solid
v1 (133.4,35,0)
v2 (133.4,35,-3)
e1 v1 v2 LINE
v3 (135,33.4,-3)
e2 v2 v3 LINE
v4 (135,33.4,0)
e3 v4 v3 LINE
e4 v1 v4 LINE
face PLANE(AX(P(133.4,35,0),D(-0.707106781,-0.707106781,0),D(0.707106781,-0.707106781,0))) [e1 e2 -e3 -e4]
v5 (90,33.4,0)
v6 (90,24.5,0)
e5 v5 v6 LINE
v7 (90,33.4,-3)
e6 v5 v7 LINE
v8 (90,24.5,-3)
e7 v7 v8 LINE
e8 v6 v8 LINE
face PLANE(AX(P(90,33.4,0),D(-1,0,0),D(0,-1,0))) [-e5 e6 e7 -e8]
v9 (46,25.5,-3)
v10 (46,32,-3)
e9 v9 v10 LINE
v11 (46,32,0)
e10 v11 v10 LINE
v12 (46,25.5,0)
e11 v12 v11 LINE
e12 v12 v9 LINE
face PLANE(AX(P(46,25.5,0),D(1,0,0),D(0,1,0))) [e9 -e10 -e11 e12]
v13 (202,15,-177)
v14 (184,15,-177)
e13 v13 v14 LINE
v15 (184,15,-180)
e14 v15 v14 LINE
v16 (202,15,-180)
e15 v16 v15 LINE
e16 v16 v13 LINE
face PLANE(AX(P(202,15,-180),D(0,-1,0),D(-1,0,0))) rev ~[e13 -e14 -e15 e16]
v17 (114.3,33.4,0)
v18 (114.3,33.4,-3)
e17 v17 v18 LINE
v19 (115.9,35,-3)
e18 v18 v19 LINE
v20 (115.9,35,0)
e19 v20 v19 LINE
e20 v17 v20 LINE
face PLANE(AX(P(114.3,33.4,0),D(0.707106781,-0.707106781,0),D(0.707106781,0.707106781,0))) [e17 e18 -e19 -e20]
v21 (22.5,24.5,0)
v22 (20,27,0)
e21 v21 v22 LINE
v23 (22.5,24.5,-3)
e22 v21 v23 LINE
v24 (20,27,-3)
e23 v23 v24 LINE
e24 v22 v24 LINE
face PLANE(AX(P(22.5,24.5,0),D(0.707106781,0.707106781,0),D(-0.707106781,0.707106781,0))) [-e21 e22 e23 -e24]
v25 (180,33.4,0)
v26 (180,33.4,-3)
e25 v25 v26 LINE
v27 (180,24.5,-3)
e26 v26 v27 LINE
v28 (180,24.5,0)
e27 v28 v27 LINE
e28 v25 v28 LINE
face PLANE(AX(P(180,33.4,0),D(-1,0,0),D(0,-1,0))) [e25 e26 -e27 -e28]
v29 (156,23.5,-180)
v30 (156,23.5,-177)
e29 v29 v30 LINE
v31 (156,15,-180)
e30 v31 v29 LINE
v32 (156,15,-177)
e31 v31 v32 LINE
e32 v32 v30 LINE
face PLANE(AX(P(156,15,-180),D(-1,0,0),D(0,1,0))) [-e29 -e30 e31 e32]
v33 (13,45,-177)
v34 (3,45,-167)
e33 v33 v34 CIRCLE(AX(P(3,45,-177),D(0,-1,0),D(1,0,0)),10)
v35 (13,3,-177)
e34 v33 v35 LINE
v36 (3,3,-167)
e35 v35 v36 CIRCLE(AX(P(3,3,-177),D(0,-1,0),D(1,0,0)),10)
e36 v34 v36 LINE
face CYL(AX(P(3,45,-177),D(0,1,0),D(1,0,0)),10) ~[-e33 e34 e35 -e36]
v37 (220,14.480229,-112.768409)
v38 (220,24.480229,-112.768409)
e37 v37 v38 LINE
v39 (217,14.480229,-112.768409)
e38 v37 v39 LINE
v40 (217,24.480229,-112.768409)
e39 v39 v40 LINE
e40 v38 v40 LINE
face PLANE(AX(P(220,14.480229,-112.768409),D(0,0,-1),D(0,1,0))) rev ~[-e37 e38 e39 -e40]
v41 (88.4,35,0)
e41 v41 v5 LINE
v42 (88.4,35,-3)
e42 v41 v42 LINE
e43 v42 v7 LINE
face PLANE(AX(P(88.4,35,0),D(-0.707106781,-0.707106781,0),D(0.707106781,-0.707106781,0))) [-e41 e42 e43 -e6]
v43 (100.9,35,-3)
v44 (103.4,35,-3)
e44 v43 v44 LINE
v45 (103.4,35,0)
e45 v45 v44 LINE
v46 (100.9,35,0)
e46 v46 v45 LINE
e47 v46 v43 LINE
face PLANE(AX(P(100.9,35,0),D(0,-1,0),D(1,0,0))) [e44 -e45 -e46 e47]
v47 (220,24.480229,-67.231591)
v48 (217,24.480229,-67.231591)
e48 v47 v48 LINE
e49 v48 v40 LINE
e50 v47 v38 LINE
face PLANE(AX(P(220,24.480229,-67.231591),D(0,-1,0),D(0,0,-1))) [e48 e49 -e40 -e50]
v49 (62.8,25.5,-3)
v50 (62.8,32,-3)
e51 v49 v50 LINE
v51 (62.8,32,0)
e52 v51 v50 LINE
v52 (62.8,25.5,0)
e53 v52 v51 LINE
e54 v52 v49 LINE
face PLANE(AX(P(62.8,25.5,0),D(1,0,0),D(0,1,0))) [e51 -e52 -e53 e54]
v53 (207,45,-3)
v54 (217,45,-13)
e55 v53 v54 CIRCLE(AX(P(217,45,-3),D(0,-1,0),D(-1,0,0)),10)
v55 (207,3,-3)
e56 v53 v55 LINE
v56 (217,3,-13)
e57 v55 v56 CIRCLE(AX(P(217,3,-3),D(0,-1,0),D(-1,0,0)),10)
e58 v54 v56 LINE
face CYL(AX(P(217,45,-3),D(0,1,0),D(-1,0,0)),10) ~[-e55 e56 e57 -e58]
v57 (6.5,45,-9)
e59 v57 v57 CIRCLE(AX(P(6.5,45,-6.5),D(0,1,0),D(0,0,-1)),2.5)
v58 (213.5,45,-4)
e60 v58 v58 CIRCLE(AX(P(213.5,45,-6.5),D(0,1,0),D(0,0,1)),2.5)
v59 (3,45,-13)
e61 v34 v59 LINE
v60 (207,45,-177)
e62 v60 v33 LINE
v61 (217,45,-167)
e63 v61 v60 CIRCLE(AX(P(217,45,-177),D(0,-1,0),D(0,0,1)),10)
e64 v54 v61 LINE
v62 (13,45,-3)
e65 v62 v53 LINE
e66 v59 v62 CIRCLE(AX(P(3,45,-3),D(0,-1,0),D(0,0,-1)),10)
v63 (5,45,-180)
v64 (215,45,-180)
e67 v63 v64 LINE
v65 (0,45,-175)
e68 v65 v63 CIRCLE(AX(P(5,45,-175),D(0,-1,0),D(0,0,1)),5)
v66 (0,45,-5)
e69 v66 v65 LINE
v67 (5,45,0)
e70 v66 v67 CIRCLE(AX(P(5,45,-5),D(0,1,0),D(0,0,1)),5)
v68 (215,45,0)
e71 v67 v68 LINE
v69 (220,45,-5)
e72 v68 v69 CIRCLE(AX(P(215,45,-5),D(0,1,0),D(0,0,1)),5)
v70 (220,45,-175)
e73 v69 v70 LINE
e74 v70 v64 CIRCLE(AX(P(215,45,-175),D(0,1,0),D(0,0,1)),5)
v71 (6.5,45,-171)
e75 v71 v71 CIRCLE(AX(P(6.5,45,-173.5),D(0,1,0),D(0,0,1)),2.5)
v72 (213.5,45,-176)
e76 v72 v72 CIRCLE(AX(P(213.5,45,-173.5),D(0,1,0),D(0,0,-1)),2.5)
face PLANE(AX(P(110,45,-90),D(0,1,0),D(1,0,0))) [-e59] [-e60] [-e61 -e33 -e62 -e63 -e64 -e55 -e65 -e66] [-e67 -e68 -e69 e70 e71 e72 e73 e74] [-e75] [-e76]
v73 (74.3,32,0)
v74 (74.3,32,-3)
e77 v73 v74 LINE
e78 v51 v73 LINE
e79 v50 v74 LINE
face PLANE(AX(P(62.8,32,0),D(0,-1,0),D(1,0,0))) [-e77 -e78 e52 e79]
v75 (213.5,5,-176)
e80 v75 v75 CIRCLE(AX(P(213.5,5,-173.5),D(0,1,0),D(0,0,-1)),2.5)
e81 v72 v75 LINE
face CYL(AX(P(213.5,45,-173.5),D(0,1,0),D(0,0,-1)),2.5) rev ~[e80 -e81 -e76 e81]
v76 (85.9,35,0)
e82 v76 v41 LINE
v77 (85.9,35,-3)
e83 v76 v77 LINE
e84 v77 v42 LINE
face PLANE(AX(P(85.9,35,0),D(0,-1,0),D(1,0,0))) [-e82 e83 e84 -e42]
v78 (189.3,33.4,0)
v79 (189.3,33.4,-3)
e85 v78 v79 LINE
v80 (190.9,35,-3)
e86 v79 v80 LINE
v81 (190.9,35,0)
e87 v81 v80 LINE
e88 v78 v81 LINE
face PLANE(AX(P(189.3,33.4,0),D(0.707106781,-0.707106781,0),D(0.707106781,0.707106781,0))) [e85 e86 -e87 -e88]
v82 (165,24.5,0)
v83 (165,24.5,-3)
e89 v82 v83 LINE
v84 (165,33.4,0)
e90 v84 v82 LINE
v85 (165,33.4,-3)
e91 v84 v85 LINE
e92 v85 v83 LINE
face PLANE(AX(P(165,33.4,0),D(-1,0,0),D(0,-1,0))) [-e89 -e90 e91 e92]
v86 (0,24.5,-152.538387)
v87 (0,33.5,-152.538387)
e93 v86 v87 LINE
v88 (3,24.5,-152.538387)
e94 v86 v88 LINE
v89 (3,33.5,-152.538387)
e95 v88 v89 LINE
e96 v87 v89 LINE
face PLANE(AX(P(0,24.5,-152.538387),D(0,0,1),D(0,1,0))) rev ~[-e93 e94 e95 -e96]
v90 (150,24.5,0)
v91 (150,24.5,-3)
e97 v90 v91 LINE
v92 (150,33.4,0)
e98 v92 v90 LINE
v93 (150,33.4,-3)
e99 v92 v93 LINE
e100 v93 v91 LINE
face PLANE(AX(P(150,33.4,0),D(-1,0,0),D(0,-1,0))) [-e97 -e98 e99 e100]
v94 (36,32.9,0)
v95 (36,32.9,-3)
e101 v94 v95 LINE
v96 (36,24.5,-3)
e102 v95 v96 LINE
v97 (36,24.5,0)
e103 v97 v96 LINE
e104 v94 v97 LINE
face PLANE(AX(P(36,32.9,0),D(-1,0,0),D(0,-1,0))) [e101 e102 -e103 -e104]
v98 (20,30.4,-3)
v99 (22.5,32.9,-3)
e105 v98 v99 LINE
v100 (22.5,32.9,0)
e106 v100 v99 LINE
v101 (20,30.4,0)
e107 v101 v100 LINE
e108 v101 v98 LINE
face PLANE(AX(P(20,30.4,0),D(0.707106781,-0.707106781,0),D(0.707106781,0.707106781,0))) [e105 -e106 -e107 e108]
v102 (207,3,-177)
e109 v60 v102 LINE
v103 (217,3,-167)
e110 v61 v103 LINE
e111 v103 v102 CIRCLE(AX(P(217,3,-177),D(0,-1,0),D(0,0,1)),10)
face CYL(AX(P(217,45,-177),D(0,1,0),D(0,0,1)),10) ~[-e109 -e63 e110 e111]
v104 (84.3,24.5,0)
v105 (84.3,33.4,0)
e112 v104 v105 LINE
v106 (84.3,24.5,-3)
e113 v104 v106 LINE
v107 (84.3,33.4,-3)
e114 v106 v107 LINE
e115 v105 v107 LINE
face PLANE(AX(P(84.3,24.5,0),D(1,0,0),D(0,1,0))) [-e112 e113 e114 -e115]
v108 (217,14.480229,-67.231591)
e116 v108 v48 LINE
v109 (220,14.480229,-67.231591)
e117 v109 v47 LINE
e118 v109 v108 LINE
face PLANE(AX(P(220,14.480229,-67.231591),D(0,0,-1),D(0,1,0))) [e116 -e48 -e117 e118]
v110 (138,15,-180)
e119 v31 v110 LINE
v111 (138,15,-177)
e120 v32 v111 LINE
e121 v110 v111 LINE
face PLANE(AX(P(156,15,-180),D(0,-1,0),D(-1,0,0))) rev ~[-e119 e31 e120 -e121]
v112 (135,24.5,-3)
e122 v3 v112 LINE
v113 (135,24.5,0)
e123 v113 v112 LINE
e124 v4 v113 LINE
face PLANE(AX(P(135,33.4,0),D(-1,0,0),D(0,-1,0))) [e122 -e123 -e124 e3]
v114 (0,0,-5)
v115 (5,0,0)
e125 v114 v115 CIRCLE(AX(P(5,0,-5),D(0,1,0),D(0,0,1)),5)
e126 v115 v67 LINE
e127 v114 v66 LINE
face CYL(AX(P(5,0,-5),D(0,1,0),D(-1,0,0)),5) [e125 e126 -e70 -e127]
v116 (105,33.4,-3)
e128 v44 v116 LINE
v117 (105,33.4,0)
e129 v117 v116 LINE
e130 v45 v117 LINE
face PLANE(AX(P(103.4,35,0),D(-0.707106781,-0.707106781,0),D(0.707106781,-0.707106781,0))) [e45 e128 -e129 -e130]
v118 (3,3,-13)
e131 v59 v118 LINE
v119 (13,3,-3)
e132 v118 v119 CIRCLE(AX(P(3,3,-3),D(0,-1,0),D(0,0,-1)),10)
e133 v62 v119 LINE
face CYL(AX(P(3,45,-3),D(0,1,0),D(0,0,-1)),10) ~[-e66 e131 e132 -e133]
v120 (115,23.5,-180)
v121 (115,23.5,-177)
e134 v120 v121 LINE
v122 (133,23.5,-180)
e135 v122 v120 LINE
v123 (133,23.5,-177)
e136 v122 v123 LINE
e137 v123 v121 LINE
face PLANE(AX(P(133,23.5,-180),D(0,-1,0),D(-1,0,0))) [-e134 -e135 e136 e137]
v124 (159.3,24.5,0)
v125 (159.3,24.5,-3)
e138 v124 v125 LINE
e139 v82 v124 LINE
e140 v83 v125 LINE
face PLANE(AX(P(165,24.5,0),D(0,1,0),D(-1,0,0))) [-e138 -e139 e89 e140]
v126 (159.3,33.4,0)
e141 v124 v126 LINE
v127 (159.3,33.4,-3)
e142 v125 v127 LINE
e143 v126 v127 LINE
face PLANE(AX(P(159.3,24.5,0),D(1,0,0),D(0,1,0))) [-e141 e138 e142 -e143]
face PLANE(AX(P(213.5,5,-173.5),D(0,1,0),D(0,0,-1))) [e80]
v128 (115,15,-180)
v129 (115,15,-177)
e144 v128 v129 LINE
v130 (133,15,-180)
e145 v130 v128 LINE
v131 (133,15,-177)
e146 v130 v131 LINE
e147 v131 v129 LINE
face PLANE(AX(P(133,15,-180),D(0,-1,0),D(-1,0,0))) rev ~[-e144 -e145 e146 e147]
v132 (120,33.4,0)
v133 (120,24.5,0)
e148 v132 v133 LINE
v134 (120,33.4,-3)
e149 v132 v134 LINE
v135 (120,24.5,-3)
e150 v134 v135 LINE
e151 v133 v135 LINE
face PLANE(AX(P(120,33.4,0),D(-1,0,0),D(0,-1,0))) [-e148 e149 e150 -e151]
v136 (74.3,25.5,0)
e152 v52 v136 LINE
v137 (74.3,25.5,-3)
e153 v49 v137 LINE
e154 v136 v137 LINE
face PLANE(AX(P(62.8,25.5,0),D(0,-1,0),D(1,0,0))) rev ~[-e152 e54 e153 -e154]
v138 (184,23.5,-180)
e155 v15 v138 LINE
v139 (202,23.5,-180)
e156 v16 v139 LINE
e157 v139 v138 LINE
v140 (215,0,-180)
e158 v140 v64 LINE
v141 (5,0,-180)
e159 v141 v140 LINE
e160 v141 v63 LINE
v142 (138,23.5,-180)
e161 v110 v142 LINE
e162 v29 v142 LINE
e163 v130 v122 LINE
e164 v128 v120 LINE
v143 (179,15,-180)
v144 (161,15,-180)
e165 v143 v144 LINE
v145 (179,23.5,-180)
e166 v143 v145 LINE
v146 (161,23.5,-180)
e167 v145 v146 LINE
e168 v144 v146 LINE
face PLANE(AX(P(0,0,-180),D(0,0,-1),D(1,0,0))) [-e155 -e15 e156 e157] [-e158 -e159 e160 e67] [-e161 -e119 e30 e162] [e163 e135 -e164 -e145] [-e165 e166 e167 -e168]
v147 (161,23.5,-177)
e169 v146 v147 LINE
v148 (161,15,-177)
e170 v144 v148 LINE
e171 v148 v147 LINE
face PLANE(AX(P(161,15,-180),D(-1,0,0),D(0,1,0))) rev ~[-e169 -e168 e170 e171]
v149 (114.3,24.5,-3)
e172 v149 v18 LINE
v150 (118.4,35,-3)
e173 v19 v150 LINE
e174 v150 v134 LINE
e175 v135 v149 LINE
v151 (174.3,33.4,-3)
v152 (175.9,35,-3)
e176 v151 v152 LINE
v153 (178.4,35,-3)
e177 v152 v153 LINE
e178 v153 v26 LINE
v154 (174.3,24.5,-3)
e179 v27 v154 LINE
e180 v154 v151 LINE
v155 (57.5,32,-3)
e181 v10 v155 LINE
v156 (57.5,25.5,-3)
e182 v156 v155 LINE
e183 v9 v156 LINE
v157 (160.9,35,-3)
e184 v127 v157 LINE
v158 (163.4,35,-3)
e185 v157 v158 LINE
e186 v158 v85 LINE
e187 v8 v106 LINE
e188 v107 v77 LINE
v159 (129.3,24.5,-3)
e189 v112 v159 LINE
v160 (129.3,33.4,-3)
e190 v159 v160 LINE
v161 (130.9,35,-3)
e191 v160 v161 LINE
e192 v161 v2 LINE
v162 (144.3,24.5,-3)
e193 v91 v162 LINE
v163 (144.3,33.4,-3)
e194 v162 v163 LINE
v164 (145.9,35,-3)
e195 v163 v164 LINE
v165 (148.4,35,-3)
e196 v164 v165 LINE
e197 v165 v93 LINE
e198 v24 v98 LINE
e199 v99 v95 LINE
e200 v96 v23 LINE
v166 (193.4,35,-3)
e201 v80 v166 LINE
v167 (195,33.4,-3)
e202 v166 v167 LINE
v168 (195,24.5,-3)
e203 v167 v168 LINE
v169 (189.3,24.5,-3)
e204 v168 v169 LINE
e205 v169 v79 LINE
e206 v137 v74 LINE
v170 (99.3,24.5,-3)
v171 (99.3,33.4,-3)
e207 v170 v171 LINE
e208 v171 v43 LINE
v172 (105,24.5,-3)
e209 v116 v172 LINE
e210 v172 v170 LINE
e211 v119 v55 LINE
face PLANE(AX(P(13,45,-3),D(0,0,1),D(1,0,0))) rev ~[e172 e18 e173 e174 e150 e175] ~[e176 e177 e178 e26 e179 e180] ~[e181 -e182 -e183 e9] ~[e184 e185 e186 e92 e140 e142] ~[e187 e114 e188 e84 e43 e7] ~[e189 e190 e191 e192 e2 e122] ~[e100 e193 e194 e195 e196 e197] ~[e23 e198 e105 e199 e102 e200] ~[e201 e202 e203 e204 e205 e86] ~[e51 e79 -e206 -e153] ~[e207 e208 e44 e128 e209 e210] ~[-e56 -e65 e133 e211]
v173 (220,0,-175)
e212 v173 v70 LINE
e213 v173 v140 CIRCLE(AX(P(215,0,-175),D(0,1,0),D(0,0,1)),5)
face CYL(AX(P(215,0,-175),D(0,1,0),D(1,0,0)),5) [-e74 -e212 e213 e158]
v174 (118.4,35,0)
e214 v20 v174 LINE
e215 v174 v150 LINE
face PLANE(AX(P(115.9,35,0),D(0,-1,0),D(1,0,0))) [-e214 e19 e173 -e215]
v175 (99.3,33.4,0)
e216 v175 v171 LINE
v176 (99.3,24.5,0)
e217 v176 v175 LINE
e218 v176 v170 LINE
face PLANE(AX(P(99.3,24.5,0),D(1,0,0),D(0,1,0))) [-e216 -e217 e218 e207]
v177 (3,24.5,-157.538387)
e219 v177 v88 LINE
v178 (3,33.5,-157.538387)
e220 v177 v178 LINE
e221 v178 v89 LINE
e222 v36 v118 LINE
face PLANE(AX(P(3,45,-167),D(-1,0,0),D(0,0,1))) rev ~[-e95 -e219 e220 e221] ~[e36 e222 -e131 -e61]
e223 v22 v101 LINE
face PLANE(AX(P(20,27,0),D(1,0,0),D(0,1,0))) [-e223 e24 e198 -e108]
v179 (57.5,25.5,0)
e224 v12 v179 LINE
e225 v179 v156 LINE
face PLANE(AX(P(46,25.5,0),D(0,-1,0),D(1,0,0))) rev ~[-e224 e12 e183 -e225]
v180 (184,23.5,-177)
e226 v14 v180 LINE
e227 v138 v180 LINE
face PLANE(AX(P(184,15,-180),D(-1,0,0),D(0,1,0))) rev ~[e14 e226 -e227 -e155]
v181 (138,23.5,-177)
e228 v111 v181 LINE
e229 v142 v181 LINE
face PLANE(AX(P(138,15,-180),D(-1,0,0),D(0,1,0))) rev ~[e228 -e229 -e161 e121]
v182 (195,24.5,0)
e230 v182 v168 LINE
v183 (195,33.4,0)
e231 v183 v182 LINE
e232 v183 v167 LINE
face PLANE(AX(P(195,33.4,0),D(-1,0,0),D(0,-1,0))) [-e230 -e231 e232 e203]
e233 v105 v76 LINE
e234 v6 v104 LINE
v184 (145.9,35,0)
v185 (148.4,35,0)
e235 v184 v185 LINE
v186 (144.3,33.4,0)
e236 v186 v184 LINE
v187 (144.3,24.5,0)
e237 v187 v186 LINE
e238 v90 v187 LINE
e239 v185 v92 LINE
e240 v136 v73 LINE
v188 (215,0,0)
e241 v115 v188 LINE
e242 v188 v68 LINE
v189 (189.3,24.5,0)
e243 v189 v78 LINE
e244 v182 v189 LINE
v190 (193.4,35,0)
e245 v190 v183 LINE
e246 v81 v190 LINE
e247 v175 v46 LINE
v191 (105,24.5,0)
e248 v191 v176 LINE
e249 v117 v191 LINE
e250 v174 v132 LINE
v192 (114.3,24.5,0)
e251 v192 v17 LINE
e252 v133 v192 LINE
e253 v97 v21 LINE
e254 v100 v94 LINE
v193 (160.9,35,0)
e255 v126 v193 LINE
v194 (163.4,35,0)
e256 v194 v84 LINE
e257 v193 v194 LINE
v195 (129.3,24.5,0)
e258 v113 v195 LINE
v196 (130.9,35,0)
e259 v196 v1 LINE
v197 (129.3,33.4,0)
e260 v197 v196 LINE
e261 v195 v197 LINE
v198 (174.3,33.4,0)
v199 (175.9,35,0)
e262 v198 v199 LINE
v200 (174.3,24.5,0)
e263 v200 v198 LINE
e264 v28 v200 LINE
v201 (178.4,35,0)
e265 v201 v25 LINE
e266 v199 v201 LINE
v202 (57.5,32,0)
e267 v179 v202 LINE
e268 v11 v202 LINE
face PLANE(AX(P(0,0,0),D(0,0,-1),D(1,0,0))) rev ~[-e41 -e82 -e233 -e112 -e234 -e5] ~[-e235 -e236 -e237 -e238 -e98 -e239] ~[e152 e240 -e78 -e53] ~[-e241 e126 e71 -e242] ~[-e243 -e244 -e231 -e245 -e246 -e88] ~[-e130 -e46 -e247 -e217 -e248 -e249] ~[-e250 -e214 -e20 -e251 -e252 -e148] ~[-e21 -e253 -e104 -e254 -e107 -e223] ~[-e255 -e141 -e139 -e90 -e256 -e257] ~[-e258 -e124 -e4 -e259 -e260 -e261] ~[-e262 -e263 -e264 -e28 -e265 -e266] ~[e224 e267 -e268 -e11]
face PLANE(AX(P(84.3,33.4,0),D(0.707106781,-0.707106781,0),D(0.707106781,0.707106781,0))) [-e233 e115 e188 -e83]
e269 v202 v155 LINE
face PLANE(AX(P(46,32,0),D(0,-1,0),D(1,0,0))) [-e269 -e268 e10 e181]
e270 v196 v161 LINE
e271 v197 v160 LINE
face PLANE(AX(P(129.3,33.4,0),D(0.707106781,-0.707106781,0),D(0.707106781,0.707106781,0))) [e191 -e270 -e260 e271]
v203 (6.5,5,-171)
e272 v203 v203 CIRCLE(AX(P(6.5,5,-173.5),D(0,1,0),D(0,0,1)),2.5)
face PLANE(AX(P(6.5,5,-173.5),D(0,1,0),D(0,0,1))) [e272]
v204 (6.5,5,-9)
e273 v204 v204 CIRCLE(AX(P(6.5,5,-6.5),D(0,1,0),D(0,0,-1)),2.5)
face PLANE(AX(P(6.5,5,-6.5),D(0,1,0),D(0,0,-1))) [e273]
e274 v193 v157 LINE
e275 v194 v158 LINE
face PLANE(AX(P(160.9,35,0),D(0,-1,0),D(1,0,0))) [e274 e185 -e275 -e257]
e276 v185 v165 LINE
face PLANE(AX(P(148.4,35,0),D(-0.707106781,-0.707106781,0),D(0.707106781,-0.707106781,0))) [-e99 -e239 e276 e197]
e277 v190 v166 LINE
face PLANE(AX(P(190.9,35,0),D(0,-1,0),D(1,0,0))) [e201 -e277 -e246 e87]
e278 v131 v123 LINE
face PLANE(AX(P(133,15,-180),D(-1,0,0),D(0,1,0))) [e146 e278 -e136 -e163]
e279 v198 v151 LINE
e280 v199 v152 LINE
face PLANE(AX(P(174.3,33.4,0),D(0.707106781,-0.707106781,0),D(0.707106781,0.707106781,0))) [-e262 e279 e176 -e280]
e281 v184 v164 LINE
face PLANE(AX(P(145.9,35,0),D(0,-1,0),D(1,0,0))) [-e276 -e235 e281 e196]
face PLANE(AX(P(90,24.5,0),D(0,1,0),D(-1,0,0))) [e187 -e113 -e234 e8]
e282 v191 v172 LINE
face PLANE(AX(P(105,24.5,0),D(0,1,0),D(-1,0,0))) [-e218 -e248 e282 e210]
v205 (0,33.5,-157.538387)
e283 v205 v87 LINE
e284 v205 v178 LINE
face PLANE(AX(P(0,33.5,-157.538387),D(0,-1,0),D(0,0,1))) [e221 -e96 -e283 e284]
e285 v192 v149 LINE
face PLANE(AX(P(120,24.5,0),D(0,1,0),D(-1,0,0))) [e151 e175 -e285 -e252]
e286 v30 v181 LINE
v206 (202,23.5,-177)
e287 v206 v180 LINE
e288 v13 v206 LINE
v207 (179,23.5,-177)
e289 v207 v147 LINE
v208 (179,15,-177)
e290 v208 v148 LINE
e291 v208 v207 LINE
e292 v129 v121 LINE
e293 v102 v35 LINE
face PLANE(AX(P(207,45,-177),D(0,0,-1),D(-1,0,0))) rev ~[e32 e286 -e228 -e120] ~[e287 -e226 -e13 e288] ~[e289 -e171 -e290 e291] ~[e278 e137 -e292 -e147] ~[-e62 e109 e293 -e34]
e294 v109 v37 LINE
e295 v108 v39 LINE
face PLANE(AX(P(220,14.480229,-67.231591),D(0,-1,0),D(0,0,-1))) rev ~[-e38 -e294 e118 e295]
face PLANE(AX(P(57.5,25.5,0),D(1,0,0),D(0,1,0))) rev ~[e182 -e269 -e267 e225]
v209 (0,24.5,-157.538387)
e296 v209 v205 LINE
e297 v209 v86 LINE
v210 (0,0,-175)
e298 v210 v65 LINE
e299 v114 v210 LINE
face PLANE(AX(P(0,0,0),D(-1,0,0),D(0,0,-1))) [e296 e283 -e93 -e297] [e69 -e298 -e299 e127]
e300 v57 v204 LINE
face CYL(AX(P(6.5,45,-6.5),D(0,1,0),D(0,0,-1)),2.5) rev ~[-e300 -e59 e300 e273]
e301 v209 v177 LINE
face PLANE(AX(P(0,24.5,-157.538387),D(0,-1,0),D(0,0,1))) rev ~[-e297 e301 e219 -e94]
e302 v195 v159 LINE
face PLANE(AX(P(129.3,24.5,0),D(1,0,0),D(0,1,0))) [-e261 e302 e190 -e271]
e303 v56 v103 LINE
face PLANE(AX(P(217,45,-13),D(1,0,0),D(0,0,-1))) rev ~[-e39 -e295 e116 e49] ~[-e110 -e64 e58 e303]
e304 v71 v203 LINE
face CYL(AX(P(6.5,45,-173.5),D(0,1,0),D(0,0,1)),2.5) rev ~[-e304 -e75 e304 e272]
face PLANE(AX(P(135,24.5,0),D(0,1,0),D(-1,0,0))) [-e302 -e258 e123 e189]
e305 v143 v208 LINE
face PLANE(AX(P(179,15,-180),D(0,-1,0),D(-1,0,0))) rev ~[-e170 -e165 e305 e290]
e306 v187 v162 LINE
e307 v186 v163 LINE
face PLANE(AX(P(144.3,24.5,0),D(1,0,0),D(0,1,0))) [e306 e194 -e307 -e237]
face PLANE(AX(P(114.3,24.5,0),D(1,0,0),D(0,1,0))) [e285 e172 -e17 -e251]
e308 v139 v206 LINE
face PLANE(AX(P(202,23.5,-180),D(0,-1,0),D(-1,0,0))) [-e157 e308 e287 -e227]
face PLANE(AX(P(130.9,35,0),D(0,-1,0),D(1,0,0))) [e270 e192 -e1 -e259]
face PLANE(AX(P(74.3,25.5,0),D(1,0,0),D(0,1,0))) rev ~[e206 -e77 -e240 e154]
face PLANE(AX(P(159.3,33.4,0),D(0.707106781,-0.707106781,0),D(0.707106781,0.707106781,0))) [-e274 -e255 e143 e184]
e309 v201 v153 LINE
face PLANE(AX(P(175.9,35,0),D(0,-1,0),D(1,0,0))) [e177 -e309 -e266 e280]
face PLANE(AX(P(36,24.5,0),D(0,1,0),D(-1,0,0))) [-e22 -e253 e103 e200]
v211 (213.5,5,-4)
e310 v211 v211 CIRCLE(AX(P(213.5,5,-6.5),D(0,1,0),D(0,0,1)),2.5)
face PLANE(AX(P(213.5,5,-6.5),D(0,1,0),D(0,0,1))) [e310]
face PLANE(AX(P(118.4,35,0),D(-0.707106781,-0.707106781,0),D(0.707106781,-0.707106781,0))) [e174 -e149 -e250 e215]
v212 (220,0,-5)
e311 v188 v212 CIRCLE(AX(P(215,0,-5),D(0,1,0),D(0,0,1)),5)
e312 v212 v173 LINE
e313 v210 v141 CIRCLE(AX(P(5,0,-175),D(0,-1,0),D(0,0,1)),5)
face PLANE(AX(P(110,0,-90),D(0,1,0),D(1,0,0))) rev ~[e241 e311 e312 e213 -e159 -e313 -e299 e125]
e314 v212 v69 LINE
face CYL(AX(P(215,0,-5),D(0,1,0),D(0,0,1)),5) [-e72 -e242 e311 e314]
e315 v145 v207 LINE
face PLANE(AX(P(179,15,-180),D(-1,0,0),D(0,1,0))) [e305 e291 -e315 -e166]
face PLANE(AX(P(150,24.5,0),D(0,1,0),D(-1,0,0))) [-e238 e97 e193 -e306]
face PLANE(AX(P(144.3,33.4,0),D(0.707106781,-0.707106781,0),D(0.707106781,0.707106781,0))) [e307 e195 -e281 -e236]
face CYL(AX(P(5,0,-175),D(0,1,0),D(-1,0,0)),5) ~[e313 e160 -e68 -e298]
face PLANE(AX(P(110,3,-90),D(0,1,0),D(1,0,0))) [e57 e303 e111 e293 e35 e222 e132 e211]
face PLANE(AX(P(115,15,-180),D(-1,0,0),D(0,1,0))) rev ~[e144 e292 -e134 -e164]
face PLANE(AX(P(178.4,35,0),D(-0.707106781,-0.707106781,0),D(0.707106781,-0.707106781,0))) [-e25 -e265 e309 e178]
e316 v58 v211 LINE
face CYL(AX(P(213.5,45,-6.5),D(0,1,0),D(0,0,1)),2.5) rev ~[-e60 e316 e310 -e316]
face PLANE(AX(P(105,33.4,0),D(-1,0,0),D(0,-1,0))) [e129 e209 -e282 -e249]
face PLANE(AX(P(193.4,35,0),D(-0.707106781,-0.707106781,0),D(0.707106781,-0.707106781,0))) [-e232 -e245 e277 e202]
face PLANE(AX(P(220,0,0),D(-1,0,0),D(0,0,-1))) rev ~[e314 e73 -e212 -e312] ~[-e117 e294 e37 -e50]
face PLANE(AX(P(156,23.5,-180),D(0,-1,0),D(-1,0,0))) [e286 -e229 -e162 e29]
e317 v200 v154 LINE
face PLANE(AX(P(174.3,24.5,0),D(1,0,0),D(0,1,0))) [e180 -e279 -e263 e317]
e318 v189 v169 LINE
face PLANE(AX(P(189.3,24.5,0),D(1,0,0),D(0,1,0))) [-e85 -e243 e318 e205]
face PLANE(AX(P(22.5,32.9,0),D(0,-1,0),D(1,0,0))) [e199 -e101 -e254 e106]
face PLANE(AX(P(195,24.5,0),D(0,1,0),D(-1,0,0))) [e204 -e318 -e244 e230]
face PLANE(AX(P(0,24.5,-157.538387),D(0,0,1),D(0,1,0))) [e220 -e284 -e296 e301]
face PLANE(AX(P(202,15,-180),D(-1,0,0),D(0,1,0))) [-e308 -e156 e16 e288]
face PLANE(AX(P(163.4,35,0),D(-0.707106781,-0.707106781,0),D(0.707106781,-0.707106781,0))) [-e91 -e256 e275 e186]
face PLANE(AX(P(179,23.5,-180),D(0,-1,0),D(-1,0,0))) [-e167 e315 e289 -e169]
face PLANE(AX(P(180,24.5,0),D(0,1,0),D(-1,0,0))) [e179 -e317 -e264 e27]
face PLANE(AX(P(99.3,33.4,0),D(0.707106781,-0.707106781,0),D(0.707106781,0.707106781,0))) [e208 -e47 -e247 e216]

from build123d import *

# Parameters (mm, degrees)
SKETCH1_W           = 220
SKETCH1_H           = 180
BOSS_EXTRUDE1_DEPTH = 45
FILLET1_R           = 5
CUT_EXTRUDE7_DEPTH  = 42
CUT_EXTRUDE2_DEPTH  = 5
CUT_EXTRUDE3_DEPTH  = 5
SKETCH4_W           = 11.5
SKETCH4_H           = 6.5
CUT_EXTRUDE4_DEPTH  = 5
SKETCH5_W           = 45.536818034
SKETCH5_H           = 10
CUT_EXTRUDE5_DEPTH  = 5
SKETCH6_W           = 18
SKETCH6_H           = 8.5
CUT_EXTRUDE6_DEPTH  = 5
SKETCH8_W           = 5
SKETCH8_H           = 9
CUT_EXTRUDE8_DEPTH  = 4.2
SKETCH10_R          = 2.5
CUT_EXTRUDE9_DEPTH  = 40


with BuildPart() as part:
    # Sketch1 → Boss-Extrude1 (new body)
    with BuildSketch(Plane(origin=(0, 0, 0), x_dir=(1, 0, 0), z_dir=(0, 1, 0))):
        with Locations((110, 90)):
            Rectangle(SKETCH1_W, SKETCH1_H)
    extrude(amount=BOSS_EXTRUDE1_DEPTH)

    # Fillet1
    fillet1_edges = [part.edges().sort_by_distance(p)[0] for p in [
        (0, 22.5, -180),
        (220, 22.5, -180),
        (220, 22.5, 0),
        (0, 22.5, 0),
    ]]
    fillet(fillet1_edges, radius=FILLET1_R)

    # Sketch7 → Cut-Extrude7 (cut)
    with BuildSketch(Plane(origin=(0, 45, 0), x_dir=(1, 0, 0), z_dir=(0, 1, 0))):
        with BuildLine():
            Line((207, 177), (13, 177))
            ThreePointArc((13, 177), (10.071067812, 169.928932188), (3, 167))
            Line((3, 167), (3, 13))
            ThreePointArc((3, 13), (10.071067812, 10.071067812), (13, 3))
            Line((13, 3), (207, 3))
            ThreePointArc((207, 3), (209.928932188, 10.071067812), (217, 13))
            Line((217, 13), (217, 167))
            ThreePointArc((217, 167), (209.928932188, 169.928932188), (207, 177))
        make_face()
    extrude(amount=-CUT_EXTRUDE7_DEPTH, mode=Mode.SUBTRACT)

    # Sketch2 → Cut-Extrude2 (cut)
    with BuildSketch(Plane.XY):
        Polygon((175.9, 35), (178.4, 35), (180, 33.4), (180, 24.5), (174.3, 24.5), (174.3, 33.4), align=None)
        Polygon((190.9, 35), (193.4, 35), (195, 33.4), (195, 24.5), (189.3, 24.5), (189.3, 33.4), align=None)
        Polygon((160.9, 35), (163.4, 35), (165, 33.4), (165, 24.5), (159.3, 24.5), (159.3, 33.4), align=None)
        Polygon((145.9, 35), (148.4, 35), (150, 33.4), (150, 24.5), (144.3, 24.5), (144.3, 33.4), align=None)
        Polygon((130.9, 35), (133.4, 35), (135, 33.4), (135, 24.5), (129.3, 24.5), (129.3, 33.4), align=None)
        Polygon((115.9, 35), (118.4, 35), (120, 33.4), (120, 24.5), (114.3, 24.5), (114.3, 33.4), align=None)
        Polygon((100.9, 35), (103.4, 35), (105, 33.4), (105, 24.5), (99.3, 24.5), (99.3, 33.4), align=None)
        Polygon((85.9, 35), (88.4, 35), (90, 33.4), (90, 24.5), (84.3, 24.5), (84.3, 33.4), align=None)
    extrude(amount=-CUT_EXTRUDE2_DEPTH, mode=Mode.SUBTRACT)

    # Sketch3 → Cut-Extrude3 (cut)
    with BuildSketch(Plane.XY):
        Polygon((22.5, 32.9), (36, 32.9), (36, 24.5), (22.5, 24.5), (20, 27), (20, 30.4), align=None)
    extrude(amount=-CUT_EXTRUDE3_DEPTH, mode=Mode.SUBTRACT)

    # Sketch4 → Cut-Extrude4 (cut)
    with BuildSketch(Plane.XY):
        with Locations((51.75, 28.75)):
            Rectangle(SKETCH4_W, SKETCH4_H)
        with Locations((68.55, 28.75)):
            Rectangle(SKETCH4_W, SKETCH4_H)
    extrude(amount=-CUT_EXTRUDE4_DEPTH, mode=Mode.SUBTRACT)

    # Sketch5 → Cut-Extrude5 (cut)
    with BuildSketch(Plane(origin=(220, 0, 0), x_dir=(0, 0, -1), z_dir=(1, 0, 0))):
        with Locations((90, 19.480228536)):
            Rectangle(SKETCH5_W, SKETCH5_H)
    extrude(amount=-CUT_EXTRUDE5_DEPTH, mode=Mode.SUBTRACT)

    # Sketch6 → Cut-Extrude6 (cut)
    with BuildSketch(Plane(origin=(0, 0, -180), x_dir=(-1, 0, 0), z_dir=(0, 0, -1))):
        with Locations((-193, 19.25)):
            Rectangle(SKETCH6_W, SKETCH6_H)
        with Locations((-170, 19.25)):
            Rectangle(SKETCH6_W, SKETCH6_H)
        with Locations((-147, 19.25)):
            Rectangle(SKETCH6_W, SKETCH6_H)
        with Locations((-124, 19.25)):
            Rectangle(SKETCH6_W, SKETCH6_H)
    extrude(amount=-CUT_EXTRUDE6_DEPTH, mode=Mode.SUBTRACT)

    # Sketch8 → Cut-Extrude8 (cut)
    with BuildSketch(Plane.ZY):
        with Locations((-155.038386618, 29)):
            Rectangle(SKETCH8_W, SKETCH8_H)
    extrude(amount=-CUT_EXTRUDE8_DEPTH, mode=Mode.SUBTRACT)

    # Sketch10 → Cut-Extrude9 (cut)
    with BuildSketch(Plane(origin=(0, 45, 0), x_dir=(1, 0, 0), z_dir=(0, 1, 0))):
        with Locations(Location((6.5, 173.5, 0), (0, 0, 270))):
            Circle(SKETCH10_R)
        with Locations(Location((213.5, 173.5, 0), (0, 0, 90))):
            Circle(SKETCH10_R)
        with Locations(Location((213.5, 6.5, 0), (0, 0, 270))):
            Circle(SKETCH10_R)
        with Locations(Location((6.5, 6.5, 0), (0, 0, 90))):
            Circle(SKETCH10_R)
    extrude(amount=-CUT_EXTRUDE9_DEPTH, mode=Mode.SUBTRACT)


solid = part.part
